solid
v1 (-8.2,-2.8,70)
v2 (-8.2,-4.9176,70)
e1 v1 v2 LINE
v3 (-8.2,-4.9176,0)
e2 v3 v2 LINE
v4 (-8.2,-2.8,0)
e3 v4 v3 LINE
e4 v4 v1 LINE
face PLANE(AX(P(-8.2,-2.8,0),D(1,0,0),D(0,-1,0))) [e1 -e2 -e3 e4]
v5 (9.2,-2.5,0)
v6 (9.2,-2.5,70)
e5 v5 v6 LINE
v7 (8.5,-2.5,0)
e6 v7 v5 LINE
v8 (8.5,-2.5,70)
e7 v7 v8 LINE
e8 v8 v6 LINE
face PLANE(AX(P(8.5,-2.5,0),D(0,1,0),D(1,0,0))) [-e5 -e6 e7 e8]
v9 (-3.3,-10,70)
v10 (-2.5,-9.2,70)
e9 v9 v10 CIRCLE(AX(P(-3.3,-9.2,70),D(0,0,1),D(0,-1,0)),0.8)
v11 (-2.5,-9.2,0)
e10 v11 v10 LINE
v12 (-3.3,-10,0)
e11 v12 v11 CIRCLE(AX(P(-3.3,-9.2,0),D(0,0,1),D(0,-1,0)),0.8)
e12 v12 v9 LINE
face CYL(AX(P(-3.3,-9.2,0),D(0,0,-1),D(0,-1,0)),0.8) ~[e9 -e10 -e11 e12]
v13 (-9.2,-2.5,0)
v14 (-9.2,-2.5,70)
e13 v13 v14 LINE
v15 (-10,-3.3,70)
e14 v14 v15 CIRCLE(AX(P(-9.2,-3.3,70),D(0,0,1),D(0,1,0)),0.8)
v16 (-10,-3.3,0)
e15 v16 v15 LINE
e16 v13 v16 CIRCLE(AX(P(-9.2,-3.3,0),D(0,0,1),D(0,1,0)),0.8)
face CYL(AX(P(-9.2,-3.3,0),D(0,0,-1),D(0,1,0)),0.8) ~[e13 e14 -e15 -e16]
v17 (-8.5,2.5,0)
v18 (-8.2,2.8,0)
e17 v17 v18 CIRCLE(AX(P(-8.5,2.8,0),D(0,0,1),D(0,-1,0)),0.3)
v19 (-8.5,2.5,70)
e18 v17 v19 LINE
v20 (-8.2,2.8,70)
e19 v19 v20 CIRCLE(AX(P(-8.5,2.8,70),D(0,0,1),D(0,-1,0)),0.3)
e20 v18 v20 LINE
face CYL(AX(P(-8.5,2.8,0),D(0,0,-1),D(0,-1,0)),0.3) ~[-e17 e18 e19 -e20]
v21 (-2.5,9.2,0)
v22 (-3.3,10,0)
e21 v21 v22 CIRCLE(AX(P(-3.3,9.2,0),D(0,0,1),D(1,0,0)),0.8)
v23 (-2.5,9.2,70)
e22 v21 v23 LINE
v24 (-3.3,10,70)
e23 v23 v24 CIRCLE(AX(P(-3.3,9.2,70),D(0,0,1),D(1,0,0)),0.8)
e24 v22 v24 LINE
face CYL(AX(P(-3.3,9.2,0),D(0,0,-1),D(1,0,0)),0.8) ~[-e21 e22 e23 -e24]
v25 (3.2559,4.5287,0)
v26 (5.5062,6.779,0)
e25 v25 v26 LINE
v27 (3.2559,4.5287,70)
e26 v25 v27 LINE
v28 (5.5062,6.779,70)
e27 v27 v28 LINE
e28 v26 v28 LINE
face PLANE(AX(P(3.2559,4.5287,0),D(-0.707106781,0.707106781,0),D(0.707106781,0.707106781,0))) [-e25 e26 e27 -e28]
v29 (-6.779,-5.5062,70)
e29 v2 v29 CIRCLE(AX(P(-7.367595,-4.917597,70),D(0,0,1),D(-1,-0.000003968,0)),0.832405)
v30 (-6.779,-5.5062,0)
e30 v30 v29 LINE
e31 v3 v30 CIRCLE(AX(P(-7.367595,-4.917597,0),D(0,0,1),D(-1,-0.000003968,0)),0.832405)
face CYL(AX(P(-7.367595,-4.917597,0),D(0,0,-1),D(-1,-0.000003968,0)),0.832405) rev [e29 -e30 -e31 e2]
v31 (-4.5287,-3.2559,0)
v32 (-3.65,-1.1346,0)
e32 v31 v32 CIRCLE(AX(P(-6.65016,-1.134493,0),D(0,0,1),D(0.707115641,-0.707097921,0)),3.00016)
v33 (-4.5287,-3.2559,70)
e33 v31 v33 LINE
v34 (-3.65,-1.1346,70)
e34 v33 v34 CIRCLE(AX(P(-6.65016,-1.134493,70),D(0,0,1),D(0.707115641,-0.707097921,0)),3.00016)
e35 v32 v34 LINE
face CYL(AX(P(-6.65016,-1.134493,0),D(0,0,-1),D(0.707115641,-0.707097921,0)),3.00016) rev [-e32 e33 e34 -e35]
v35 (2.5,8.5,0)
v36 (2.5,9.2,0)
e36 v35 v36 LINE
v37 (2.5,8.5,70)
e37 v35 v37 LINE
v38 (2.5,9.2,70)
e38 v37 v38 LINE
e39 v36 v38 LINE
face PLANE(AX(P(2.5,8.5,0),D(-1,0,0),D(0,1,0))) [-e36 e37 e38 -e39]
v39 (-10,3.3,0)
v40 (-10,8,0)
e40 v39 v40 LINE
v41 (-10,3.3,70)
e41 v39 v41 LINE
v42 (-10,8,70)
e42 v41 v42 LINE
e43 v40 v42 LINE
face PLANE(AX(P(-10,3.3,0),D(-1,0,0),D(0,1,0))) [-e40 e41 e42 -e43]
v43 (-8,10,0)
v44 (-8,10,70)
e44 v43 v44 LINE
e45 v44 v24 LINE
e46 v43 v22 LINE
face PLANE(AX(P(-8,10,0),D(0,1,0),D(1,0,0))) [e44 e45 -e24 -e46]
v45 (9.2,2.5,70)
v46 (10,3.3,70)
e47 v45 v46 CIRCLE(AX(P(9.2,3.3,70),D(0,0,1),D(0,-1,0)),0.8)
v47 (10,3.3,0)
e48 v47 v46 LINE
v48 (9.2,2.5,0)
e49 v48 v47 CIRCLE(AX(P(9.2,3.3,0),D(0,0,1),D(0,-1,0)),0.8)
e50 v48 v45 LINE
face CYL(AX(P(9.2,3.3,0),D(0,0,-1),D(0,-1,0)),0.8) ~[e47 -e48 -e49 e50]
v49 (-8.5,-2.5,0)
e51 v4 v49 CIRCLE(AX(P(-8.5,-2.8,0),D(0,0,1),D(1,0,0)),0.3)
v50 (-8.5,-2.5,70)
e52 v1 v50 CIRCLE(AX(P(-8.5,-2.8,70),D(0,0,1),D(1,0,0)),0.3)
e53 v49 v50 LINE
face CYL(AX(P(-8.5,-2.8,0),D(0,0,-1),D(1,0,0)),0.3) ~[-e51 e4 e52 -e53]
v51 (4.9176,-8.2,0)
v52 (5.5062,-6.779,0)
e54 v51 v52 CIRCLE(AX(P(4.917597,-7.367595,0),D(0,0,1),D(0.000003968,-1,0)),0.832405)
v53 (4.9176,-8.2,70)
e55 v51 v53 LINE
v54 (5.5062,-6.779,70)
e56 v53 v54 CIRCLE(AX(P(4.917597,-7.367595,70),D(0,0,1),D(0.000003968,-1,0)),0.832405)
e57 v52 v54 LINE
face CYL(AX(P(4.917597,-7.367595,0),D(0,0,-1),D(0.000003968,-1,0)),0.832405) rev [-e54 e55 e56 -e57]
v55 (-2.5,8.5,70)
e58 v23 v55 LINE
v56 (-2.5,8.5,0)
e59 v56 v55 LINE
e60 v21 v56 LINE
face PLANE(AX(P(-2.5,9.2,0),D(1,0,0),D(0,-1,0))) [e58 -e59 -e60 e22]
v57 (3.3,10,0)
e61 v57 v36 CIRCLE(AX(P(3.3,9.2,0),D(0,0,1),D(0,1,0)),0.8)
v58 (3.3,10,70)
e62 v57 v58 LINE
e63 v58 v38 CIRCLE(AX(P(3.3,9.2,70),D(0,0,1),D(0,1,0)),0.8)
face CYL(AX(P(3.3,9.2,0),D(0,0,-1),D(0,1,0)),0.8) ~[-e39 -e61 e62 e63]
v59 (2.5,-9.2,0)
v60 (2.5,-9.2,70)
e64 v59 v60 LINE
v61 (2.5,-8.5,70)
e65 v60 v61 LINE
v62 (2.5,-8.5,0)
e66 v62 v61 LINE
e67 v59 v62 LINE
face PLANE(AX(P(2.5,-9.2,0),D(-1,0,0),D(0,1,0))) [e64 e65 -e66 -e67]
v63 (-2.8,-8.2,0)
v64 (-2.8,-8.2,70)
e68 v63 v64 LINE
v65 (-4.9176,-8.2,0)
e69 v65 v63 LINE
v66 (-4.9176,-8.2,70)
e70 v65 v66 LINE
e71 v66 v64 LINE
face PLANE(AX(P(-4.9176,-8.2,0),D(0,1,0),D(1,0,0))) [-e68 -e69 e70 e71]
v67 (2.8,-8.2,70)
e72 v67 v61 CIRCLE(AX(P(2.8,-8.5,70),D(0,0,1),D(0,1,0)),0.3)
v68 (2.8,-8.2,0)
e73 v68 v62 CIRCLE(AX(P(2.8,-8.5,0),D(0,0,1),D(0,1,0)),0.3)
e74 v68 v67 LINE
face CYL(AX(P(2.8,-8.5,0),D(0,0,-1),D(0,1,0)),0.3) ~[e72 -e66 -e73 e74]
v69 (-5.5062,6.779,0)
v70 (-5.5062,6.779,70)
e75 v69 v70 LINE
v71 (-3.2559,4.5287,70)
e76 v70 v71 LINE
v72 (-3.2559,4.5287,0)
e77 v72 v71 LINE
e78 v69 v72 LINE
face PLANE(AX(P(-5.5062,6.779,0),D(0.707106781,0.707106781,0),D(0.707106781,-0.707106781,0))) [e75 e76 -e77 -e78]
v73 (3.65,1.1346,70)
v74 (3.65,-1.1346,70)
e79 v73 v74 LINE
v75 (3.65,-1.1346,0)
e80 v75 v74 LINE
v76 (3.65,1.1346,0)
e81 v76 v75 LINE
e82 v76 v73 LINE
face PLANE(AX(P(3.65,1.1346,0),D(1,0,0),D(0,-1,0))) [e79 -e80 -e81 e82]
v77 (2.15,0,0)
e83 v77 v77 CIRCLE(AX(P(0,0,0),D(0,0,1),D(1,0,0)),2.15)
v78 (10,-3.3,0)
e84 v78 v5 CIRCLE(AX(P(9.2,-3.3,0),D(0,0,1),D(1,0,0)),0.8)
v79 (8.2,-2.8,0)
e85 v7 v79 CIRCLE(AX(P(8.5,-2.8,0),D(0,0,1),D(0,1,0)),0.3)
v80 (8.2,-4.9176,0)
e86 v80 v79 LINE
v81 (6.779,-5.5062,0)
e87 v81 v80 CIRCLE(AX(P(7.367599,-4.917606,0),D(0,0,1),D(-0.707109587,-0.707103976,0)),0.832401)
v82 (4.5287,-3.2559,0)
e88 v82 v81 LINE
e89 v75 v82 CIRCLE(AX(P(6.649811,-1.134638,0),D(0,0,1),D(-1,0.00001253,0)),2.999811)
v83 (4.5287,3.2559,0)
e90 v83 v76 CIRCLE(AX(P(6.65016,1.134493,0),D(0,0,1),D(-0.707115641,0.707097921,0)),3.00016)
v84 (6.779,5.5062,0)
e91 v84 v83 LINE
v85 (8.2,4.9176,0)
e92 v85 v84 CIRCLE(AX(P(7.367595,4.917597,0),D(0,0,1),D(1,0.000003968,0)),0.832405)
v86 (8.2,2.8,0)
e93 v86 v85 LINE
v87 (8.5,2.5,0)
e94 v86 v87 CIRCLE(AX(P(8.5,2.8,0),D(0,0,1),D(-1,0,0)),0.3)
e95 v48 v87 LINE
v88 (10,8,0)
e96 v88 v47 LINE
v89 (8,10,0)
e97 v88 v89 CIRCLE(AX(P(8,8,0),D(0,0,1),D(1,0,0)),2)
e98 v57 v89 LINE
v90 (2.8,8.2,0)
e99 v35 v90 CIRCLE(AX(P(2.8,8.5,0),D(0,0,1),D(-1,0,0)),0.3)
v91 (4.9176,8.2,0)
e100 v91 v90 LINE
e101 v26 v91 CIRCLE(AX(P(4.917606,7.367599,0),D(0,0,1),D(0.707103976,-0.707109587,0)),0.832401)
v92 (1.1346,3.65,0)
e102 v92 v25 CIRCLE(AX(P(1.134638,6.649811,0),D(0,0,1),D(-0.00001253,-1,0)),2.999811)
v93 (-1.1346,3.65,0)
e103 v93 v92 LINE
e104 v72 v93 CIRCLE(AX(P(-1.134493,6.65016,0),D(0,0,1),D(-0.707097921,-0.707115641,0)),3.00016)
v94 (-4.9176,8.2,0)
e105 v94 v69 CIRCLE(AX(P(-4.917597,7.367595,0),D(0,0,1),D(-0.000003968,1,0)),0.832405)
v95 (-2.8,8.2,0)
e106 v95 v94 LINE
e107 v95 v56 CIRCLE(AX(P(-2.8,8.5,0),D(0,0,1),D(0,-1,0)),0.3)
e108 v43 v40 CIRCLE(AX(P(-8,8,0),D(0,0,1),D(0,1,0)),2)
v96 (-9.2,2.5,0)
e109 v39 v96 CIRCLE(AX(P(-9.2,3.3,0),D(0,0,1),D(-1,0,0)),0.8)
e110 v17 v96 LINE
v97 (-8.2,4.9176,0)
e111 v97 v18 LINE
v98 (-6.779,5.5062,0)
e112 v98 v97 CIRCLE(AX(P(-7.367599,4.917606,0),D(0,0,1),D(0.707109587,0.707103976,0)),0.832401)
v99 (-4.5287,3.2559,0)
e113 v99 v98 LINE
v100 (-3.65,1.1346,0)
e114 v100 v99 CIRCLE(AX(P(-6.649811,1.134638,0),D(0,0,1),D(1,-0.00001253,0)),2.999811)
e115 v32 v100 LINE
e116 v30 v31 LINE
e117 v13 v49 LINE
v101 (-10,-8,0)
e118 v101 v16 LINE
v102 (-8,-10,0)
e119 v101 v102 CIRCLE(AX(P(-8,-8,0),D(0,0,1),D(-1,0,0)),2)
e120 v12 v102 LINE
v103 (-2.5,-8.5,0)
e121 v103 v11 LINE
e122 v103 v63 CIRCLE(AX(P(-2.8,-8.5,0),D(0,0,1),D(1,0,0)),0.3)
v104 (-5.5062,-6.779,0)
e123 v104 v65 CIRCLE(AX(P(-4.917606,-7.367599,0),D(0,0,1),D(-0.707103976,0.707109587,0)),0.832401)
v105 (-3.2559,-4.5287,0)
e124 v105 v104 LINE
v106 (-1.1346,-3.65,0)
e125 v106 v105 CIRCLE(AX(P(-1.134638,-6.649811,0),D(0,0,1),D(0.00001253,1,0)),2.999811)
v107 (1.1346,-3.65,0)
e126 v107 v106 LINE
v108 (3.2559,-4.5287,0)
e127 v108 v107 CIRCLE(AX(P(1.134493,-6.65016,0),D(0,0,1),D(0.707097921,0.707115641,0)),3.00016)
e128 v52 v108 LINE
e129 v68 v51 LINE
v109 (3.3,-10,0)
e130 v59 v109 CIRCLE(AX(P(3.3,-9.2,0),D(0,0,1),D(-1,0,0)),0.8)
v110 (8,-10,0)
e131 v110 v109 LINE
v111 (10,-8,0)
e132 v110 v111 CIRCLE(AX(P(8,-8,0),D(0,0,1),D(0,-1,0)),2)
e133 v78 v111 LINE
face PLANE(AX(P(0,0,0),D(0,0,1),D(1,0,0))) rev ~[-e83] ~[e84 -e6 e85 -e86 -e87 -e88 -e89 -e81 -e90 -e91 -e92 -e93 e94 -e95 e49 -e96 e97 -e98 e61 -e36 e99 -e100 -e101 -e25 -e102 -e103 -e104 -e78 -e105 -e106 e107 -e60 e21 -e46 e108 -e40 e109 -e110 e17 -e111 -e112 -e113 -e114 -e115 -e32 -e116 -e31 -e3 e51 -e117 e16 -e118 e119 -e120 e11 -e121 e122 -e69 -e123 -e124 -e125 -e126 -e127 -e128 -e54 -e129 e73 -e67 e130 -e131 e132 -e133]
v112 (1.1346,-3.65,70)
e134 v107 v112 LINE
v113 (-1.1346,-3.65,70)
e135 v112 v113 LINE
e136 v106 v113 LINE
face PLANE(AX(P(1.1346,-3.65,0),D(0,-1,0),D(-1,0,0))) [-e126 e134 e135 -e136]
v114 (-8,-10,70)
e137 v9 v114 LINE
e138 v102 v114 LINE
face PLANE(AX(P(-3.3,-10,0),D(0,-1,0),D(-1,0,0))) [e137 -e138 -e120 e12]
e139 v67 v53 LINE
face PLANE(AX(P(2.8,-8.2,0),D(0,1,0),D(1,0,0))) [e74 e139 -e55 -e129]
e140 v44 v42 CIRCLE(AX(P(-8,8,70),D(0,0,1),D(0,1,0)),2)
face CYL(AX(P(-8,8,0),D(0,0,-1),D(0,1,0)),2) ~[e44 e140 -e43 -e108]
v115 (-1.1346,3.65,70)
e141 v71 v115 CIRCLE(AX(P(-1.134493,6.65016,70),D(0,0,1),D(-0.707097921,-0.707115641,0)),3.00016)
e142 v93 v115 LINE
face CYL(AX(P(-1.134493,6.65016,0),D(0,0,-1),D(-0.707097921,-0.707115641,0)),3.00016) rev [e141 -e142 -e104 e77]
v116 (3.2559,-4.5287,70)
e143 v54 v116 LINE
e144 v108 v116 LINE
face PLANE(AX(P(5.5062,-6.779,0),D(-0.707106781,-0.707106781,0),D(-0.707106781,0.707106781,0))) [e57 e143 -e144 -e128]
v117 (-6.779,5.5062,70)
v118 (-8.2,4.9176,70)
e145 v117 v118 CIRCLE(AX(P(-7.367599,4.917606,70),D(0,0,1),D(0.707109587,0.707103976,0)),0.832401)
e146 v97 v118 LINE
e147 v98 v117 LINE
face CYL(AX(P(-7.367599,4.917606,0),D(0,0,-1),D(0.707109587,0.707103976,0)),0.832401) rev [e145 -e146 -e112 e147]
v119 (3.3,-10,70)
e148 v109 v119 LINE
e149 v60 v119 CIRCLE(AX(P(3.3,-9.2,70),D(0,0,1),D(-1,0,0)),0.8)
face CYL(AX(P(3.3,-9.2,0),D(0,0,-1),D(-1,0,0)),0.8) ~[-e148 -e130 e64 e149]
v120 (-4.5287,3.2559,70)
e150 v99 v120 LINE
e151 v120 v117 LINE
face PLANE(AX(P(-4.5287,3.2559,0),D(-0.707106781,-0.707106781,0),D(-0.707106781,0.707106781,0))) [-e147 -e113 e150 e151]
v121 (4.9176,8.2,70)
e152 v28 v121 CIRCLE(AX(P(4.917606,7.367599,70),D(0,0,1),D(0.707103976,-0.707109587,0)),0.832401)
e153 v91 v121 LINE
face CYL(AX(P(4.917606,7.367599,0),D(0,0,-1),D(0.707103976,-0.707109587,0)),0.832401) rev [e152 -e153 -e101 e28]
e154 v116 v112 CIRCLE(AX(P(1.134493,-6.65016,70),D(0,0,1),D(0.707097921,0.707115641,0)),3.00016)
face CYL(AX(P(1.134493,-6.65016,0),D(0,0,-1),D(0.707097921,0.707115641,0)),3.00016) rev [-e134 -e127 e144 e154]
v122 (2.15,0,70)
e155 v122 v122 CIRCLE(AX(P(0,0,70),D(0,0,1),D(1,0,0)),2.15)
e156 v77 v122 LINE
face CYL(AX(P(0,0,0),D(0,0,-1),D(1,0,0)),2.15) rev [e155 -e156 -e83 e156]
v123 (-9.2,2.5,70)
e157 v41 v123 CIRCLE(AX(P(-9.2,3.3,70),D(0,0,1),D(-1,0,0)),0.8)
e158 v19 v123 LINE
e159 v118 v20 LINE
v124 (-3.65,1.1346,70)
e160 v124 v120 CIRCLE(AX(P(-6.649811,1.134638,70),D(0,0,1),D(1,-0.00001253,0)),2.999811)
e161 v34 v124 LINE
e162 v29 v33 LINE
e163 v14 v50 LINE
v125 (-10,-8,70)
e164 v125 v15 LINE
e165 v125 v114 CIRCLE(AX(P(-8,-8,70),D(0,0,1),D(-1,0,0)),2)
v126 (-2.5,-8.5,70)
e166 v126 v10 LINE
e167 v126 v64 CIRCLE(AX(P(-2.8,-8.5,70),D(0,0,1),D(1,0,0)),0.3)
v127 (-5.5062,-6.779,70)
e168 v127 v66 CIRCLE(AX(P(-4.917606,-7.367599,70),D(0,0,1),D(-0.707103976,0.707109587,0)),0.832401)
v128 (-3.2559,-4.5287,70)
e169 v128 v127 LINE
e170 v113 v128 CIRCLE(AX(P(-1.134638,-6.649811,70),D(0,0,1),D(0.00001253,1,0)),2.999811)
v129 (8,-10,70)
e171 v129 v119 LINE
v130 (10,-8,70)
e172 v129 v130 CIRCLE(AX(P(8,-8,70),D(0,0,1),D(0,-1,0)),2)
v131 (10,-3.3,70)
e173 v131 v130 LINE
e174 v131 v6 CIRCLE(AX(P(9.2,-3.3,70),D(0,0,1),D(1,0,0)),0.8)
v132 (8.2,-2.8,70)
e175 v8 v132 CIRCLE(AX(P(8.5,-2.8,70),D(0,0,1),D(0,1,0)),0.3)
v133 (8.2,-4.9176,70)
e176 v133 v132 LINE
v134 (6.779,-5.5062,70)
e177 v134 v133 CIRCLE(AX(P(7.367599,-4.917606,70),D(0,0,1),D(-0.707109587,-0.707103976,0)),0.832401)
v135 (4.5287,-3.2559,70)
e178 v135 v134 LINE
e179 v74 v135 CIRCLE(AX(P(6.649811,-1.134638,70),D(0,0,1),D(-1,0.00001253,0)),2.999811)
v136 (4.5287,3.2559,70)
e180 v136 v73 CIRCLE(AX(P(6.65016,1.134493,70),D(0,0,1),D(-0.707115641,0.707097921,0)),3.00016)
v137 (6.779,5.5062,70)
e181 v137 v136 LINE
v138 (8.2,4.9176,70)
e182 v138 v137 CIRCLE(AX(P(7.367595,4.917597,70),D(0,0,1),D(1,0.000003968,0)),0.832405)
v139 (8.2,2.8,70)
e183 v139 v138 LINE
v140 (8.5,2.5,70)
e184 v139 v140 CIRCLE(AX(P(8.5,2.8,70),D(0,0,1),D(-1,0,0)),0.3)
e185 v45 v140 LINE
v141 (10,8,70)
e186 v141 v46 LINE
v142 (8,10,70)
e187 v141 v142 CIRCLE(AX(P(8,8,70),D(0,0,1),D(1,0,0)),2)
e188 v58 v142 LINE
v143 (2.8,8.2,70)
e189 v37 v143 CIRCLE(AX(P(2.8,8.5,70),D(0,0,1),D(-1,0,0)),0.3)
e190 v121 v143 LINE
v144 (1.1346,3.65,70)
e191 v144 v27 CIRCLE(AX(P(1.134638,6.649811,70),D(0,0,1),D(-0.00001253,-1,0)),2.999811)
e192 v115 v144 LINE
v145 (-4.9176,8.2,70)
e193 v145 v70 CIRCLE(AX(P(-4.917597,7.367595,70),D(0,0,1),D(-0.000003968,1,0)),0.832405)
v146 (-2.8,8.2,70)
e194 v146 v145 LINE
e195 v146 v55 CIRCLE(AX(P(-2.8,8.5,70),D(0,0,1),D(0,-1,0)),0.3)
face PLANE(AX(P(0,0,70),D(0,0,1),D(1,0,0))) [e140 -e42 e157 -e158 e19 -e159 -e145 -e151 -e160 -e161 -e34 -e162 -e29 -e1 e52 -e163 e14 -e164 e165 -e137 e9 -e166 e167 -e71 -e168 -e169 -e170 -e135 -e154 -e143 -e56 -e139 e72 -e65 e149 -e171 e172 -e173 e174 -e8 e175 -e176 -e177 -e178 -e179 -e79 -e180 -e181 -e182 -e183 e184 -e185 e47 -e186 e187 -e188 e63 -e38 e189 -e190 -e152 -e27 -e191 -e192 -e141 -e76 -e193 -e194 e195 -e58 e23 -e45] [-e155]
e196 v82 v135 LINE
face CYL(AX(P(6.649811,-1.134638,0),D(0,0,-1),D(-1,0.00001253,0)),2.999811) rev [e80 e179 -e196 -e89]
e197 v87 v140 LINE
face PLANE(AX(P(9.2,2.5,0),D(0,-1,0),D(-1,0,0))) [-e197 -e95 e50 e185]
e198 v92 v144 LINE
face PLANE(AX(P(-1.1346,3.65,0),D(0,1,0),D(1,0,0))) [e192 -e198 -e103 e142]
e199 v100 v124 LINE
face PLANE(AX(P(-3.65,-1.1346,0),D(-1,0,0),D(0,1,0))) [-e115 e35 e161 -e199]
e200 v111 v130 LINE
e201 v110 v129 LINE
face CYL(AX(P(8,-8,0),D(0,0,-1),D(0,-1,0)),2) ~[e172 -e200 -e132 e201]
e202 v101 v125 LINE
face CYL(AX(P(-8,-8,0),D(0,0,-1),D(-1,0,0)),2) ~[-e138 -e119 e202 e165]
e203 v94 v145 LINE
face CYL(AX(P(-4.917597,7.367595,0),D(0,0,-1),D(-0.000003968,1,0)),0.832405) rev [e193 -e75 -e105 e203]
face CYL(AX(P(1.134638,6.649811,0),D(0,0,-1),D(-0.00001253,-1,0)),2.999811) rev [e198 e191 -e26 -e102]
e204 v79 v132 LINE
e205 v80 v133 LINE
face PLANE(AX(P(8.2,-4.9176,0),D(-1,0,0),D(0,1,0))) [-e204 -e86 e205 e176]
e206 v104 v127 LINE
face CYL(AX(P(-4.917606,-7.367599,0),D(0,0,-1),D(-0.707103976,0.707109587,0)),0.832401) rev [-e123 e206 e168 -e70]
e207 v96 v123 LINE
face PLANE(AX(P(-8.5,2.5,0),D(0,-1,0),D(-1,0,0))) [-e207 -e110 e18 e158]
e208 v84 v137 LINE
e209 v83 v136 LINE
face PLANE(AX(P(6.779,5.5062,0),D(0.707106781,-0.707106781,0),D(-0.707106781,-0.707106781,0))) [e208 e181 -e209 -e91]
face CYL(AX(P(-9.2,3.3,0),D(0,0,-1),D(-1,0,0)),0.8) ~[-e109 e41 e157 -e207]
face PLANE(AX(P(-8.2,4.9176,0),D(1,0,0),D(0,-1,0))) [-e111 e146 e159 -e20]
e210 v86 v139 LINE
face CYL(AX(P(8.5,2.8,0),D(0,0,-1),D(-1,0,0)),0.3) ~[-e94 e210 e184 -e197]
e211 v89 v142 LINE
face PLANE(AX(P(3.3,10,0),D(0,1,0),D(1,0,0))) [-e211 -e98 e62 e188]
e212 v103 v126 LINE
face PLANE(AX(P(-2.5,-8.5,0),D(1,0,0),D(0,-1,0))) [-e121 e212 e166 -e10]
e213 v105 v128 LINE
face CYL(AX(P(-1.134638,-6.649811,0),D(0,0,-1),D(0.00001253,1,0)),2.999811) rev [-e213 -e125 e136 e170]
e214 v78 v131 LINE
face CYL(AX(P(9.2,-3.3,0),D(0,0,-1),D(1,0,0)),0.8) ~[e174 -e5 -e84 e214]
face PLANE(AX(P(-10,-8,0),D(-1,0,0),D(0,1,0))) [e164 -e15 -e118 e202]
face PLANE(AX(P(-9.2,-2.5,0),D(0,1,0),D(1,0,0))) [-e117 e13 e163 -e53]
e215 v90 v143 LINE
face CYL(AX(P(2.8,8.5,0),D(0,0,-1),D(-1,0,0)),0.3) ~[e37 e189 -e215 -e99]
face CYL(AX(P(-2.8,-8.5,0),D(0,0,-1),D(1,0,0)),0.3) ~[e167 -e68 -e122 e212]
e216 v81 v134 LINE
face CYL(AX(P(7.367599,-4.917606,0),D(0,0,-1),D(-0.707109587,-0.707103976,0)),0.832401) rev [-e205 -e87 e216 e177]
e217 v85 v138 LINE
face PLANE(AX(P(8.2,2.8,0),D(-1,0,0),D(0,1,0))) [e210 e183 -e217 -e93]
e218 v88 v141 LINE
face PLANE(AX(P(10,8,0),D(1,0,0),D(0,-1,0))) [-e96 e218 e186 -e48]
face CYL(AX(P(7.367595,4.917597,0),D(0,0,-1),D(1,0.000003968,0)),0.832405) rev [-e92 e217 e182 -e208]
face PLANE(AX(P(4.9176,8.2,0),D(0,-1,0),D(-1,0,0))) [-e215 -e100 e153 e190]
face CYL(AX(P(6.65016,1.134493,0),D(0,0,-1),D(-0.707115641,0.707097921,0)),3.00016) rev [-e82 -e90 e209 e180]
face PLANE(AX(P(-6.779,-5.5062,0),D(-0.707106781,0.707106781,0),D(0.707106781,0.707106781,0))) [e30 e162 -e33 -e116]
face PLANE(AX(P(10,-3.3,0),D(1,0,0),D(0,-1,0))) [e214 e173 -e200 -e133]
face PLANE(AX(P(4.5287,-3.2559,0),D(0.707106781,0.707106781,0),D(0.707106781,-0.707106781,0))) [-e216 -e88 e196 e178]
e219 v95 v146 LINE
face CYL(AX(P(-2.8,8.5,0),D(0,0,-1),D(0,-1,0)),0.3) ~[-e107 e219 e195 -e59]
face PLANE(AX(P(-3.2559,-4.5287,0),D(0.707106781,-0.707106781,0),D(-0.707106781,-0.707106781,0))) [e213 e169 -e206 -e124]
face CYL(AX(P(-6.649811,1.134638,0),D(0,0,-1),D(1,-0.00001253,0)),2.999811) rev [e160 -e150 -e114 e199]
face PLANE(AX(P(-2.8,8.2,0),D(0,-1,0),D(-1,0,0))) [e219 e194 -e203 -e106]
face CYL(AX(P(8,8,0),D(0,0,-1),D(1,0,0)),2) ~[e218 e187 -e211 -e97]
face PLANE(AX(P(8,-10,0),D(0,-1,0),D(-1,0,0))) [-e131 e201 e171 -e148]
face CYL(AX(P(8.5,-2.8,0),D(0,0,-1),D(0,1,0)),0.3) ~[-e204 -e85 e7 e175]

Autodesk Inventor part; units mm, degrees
ref_plane "YZ Plane" through (0, 0, 0) normal (1, 0, 0) x (0, 1, 0)
ref_plane "Startebene" through (0, 0, 0) normal (0, 0, 1) x (1, 0, 0)
ref_plane "Endebene" through (0, 0, 70) normal (0, 0, 1) x (1, 0, 0)
sketch "Skizze" plane through (0, 0, 0) normal (0, 0, 1) x (1, 0, 0)
  arc A0 (-4.5287, -3.2559) -> (-3.65, -1.1346) centre (-6.65, -1.1346) ccw
  line L0 (-3.65, -1.1346) -> (-3.65, 1.1346)
  circle A1 centre (0, 0) radius 2.15
  line L1 (1.1346, -3.65) -> (-1.1346, -3.65)
  arc A2 (-1.1346, -3.65) -> (-3.2559, -4.5287) centre (-1.1346, -6.65) ccw
  line L2 (-6.779, -5.5062) -> (-4.5287, -3.2559)
  line L3 (-3.2559, -4.5287) -> (-5.5062, -6.779)
  arc A3 (-2.5, -8.5) -> (-2.8, -8.2) centre (-2.8, -8.5) ccw
  line L4 (-2.5, -8.5) -> (-2.5, -9.2)
  line L5 (-4.9176, -8.2) -> (-2.8, -8.2)
  arc A4 (-5.5062, -6.779) -> (-4.9176, -8.2) centre (-4.9176, -7.3676) ccw
  arc A5 (-3.3, -10) -> (-2.5, -9.2) centre (-3.3, -9.2) ccw
  line L6 (-3.3, -10) -> (-8, -10)
  line L7 (10, -3.3) -> (10, -8)
  line L8 (5.5062, -6.779) -> (3.2559, -4.5287)
  arc A6 (6.779, -5.5062) -> (8.2, -4.9176) centre (7.3676, -4.9176) ccw
  arc A7 (3.2559, -4.5287) -> (1.1346, -3.65) centre (1.1346, -6.65) ccw
  line L9 (4.5287, -3.2559) -> (6.779, -5.5062)
  arc A8 (3.65, -1.1346) -> (4.5287, -3.2559) centre (6.65, -1.1346) ccw
  arc A9 (8.5, -2.5) -> (8.2, -2.8) centre (8.5, -2.8) ccw
  line L10 (3.65, 1.1346) -> (3.65, -1.1346)
  line L11 (8.5, -2.5) -> (9.2, -2.5)
  arc A10 (10, -3.3) -> (9.2, -2.5) centre (9.2, -3.3) ccw
  line L12 (8.2, -4.9176) -> (8.2, -2.8)
  line L13 (2.5, 8.5) -> (2.5, 9.2)
  arc A11 (2.5, 8.5) -> (2.8, 8.2) centre (2.8, 8.5) ccw
  arc A12 (1.1346, 3.65) -> (3.2559, 4.5287) centre (1.1346, 6.65) ccw
  line L14 (-1.1346, 3.65) -> (1.1346, 3.65)
  arc A13 (3.3, 10) -> (2.5, 9.2) centre (3.3, 9.2) ccw
  line L15 (4.9176, 8.2) -> (2.8, 8.2)
  arc A14 (4.5287, 3.2559) -> (3.65, 1.1346) centre (6.65, 1.1346) ccw
  line L16 (3.2559, 4.5287) -> (5.5062, 6.779)
  arc A15 (5.5062, 6.779) -> (4.9176, 8.2) centre (4.9176, 7.3676) ccw
  line L17 (6.779, 5.5062) -> (4.5287, 3.2559)
  line L18 (3.3, 10) -> (8, 10)
  arc A16 (10, 8) -> (8, 10) centre (8, 8) ccw
  line L19 (8.2, 2.8) -> (8.2, 4.9176)
  line L20 (10, 8) -> (10, 3.3)
  arc A17 (8.2, 4.9176) -> (6.779, 5.5062) centre (7.3676, 4.9176) ccw
  line L21 (-2.8, 8.2) -> (-4.9176, 8.2)
  line L22 (-2.5, 9.2) -> (-2.5, 8.5)
  arc A18 (-2.5, 9.2) -> (-3.3, 10) centre (-3.3, 9.2) ccw
  arc A19 (-2.8, 8.2) -> (-2.5, 8.5) centre (-2.8, 8.5) ccw
  arc A20 (-3.65, 1.1346) -> (-4.5287, 3.2559) centre (-6.65, 1.1346) ccw
  arc A21 (-3.2559, 4.5287) -> (-1.1346, 3.65) centre (-1.1346, 6.65) ccw
  arc A22 (4.9176, -8.2) -> (5.5062, -6.779) centre (4.9176, -7.3676) ccw
  arc A23 (8, -10) -> (10, -8) centre (8, -8) ccw
  line L23 (2.8, -8.2) -> (4.9176, -8.2)
  line L24 (8, -10) -> (3.3, -10)
  arc A24 (2.8, -8.2) -> (2.5, -8.5) centre (2.8, -8.5) ccw
  arc A25 (2.5, -9.2) -> (3.3, -10) centre (3.3, -9.2) ccw
  line L25 (2.5, -9.2) -> (2.5, -8.5)
  arc A26 (8.2, 2.8) -> (8.5, 2.5) centre (8.5, 2.8) ccw
  line L26 (9.2, 2.5) -> (8.5, 2.5)
  arc A27 (9.2, 2.5) -> (10, 3.3) centre (9.2, 3.3) ccw
  arc A28 (-4.9176, 8.2) -> (-5.5062, 6.779) centre (-4.9176, 7.3676) ccw
  line L27 (-8, 10) -> (-3.3, 10)
  line L28 (-5.5062, 6.779) -> (-3.2559, 4.5287)
  arc A29 (-8, 10) -> (-10, 8) centre (-8, 8) ccw
  arc A30 (-6.779, 5.5062) -> (-8.2, 4.9176) centre (-7.3676, 4.9176) ccw
  line L29 (-10, 3.3) -> (-10, 8)
  line L30 (-8.2, 4.9176) -> (-8.2, 2.8)
  arc A31 (-8.5, 2.5) -> (-8.2, 2.8) centre (-8.5, 2.8) ccw
  line L31 (-8.5, 2.5) -> (-9.2, 2.5)
  arc A32 (-10, 3.3) -> (-9.2, 2.5) centre (-9.2, 3.3) ccw
  line L32 (-4.5287, 3.2559) -> (-6.779, 5.5062)
  line L33 (-10, -8) -> (-10, -3.3)
  arc A33 (-8.2, -4.9176) -> (-6.779, -5.5062) centre (-7.3676, -4.9176) ccw
  arc A34 (-10, -8) -> (-8, -10) centre (-8, -8) ccw
  line L34 (-10, -8) -> (-10, -3.3)
  arc A35 (-8.2, -2.8) -> (-8.5, -2.5) centre (-8.5, -2.8) ccw
  line L35 (-9.2, -2.5) -> (-8.5, -2.5)
  arc A36 (-9.2, -2.5) -> (-10, -3.3) centre (-9.2, -3.3) ccw
  line L36 (-8.2, -2.8) -> (-8.2, -4.9176)
  dimension "d4" = 4.3
  dimension "d5" = 6.35
  dimension "d6" = 10
  dimension "d7" = 2.5
  dimension "d8" = 5.8
  dimension "d9" = 10.5
  dimension "d10" = 3
  dimension "d11" = 7.5
  dimension "d12" = 12.5
  dimension "d13" = 13.65
  dimension "d14" = 5.7
  dimension "d15" = 10.7
  dimension "d16" = 1.15
  dimension "d17" = 6.15
  dimension "d18" = 1.8
  dimension "d19" = 0.8
  dimension "d20" = 0.3
  dimension "d21" = 2
  dimension "d22" = 0.8324
  dimension "d23" = 45
  dimension "d24" = 90
  dimension "d25" = 90
  dimension "d26" = 1.8
  dimension "d27" = 18.2
  dimension "d28" = 20
  dimension "d29" = 5
  dimension "d30" = 7.5
  dimension "d31" = 1.8
  dimension "d32" = 0.9
  dimension "d33" = 0.9
  dimension "d34" = 20
extrude "Körper" add sketch "Skizze" along normal up to surface (70 mm away) from surface at 0
sketch "Skizze6" plane through (0, 0, 0) normal (0, 0, 1) x (1, 0, 0)
  line L0 (0, 0) -> (10, 0)
ref_plane "Arbeitsebene4" through (0, 0, 0) normal (0, -1, 0) x (1, 0, 0)
sketch "Skizze7" plane through (0, 0, 0) normal (0, -1, 0) x (1, 0, 0)
  line L0 (-2, 0) -> (12, 0)
  line L1 (-2, 70) -> (12, 70)
  dimension "d43" = 70
equation "\"G_OFFSET_START\" = 0"
equation "\"G_OFFSET_END\" = 0"
equation "\"G_L\" = d43"
properties part number "BT001_trajan20_22"
